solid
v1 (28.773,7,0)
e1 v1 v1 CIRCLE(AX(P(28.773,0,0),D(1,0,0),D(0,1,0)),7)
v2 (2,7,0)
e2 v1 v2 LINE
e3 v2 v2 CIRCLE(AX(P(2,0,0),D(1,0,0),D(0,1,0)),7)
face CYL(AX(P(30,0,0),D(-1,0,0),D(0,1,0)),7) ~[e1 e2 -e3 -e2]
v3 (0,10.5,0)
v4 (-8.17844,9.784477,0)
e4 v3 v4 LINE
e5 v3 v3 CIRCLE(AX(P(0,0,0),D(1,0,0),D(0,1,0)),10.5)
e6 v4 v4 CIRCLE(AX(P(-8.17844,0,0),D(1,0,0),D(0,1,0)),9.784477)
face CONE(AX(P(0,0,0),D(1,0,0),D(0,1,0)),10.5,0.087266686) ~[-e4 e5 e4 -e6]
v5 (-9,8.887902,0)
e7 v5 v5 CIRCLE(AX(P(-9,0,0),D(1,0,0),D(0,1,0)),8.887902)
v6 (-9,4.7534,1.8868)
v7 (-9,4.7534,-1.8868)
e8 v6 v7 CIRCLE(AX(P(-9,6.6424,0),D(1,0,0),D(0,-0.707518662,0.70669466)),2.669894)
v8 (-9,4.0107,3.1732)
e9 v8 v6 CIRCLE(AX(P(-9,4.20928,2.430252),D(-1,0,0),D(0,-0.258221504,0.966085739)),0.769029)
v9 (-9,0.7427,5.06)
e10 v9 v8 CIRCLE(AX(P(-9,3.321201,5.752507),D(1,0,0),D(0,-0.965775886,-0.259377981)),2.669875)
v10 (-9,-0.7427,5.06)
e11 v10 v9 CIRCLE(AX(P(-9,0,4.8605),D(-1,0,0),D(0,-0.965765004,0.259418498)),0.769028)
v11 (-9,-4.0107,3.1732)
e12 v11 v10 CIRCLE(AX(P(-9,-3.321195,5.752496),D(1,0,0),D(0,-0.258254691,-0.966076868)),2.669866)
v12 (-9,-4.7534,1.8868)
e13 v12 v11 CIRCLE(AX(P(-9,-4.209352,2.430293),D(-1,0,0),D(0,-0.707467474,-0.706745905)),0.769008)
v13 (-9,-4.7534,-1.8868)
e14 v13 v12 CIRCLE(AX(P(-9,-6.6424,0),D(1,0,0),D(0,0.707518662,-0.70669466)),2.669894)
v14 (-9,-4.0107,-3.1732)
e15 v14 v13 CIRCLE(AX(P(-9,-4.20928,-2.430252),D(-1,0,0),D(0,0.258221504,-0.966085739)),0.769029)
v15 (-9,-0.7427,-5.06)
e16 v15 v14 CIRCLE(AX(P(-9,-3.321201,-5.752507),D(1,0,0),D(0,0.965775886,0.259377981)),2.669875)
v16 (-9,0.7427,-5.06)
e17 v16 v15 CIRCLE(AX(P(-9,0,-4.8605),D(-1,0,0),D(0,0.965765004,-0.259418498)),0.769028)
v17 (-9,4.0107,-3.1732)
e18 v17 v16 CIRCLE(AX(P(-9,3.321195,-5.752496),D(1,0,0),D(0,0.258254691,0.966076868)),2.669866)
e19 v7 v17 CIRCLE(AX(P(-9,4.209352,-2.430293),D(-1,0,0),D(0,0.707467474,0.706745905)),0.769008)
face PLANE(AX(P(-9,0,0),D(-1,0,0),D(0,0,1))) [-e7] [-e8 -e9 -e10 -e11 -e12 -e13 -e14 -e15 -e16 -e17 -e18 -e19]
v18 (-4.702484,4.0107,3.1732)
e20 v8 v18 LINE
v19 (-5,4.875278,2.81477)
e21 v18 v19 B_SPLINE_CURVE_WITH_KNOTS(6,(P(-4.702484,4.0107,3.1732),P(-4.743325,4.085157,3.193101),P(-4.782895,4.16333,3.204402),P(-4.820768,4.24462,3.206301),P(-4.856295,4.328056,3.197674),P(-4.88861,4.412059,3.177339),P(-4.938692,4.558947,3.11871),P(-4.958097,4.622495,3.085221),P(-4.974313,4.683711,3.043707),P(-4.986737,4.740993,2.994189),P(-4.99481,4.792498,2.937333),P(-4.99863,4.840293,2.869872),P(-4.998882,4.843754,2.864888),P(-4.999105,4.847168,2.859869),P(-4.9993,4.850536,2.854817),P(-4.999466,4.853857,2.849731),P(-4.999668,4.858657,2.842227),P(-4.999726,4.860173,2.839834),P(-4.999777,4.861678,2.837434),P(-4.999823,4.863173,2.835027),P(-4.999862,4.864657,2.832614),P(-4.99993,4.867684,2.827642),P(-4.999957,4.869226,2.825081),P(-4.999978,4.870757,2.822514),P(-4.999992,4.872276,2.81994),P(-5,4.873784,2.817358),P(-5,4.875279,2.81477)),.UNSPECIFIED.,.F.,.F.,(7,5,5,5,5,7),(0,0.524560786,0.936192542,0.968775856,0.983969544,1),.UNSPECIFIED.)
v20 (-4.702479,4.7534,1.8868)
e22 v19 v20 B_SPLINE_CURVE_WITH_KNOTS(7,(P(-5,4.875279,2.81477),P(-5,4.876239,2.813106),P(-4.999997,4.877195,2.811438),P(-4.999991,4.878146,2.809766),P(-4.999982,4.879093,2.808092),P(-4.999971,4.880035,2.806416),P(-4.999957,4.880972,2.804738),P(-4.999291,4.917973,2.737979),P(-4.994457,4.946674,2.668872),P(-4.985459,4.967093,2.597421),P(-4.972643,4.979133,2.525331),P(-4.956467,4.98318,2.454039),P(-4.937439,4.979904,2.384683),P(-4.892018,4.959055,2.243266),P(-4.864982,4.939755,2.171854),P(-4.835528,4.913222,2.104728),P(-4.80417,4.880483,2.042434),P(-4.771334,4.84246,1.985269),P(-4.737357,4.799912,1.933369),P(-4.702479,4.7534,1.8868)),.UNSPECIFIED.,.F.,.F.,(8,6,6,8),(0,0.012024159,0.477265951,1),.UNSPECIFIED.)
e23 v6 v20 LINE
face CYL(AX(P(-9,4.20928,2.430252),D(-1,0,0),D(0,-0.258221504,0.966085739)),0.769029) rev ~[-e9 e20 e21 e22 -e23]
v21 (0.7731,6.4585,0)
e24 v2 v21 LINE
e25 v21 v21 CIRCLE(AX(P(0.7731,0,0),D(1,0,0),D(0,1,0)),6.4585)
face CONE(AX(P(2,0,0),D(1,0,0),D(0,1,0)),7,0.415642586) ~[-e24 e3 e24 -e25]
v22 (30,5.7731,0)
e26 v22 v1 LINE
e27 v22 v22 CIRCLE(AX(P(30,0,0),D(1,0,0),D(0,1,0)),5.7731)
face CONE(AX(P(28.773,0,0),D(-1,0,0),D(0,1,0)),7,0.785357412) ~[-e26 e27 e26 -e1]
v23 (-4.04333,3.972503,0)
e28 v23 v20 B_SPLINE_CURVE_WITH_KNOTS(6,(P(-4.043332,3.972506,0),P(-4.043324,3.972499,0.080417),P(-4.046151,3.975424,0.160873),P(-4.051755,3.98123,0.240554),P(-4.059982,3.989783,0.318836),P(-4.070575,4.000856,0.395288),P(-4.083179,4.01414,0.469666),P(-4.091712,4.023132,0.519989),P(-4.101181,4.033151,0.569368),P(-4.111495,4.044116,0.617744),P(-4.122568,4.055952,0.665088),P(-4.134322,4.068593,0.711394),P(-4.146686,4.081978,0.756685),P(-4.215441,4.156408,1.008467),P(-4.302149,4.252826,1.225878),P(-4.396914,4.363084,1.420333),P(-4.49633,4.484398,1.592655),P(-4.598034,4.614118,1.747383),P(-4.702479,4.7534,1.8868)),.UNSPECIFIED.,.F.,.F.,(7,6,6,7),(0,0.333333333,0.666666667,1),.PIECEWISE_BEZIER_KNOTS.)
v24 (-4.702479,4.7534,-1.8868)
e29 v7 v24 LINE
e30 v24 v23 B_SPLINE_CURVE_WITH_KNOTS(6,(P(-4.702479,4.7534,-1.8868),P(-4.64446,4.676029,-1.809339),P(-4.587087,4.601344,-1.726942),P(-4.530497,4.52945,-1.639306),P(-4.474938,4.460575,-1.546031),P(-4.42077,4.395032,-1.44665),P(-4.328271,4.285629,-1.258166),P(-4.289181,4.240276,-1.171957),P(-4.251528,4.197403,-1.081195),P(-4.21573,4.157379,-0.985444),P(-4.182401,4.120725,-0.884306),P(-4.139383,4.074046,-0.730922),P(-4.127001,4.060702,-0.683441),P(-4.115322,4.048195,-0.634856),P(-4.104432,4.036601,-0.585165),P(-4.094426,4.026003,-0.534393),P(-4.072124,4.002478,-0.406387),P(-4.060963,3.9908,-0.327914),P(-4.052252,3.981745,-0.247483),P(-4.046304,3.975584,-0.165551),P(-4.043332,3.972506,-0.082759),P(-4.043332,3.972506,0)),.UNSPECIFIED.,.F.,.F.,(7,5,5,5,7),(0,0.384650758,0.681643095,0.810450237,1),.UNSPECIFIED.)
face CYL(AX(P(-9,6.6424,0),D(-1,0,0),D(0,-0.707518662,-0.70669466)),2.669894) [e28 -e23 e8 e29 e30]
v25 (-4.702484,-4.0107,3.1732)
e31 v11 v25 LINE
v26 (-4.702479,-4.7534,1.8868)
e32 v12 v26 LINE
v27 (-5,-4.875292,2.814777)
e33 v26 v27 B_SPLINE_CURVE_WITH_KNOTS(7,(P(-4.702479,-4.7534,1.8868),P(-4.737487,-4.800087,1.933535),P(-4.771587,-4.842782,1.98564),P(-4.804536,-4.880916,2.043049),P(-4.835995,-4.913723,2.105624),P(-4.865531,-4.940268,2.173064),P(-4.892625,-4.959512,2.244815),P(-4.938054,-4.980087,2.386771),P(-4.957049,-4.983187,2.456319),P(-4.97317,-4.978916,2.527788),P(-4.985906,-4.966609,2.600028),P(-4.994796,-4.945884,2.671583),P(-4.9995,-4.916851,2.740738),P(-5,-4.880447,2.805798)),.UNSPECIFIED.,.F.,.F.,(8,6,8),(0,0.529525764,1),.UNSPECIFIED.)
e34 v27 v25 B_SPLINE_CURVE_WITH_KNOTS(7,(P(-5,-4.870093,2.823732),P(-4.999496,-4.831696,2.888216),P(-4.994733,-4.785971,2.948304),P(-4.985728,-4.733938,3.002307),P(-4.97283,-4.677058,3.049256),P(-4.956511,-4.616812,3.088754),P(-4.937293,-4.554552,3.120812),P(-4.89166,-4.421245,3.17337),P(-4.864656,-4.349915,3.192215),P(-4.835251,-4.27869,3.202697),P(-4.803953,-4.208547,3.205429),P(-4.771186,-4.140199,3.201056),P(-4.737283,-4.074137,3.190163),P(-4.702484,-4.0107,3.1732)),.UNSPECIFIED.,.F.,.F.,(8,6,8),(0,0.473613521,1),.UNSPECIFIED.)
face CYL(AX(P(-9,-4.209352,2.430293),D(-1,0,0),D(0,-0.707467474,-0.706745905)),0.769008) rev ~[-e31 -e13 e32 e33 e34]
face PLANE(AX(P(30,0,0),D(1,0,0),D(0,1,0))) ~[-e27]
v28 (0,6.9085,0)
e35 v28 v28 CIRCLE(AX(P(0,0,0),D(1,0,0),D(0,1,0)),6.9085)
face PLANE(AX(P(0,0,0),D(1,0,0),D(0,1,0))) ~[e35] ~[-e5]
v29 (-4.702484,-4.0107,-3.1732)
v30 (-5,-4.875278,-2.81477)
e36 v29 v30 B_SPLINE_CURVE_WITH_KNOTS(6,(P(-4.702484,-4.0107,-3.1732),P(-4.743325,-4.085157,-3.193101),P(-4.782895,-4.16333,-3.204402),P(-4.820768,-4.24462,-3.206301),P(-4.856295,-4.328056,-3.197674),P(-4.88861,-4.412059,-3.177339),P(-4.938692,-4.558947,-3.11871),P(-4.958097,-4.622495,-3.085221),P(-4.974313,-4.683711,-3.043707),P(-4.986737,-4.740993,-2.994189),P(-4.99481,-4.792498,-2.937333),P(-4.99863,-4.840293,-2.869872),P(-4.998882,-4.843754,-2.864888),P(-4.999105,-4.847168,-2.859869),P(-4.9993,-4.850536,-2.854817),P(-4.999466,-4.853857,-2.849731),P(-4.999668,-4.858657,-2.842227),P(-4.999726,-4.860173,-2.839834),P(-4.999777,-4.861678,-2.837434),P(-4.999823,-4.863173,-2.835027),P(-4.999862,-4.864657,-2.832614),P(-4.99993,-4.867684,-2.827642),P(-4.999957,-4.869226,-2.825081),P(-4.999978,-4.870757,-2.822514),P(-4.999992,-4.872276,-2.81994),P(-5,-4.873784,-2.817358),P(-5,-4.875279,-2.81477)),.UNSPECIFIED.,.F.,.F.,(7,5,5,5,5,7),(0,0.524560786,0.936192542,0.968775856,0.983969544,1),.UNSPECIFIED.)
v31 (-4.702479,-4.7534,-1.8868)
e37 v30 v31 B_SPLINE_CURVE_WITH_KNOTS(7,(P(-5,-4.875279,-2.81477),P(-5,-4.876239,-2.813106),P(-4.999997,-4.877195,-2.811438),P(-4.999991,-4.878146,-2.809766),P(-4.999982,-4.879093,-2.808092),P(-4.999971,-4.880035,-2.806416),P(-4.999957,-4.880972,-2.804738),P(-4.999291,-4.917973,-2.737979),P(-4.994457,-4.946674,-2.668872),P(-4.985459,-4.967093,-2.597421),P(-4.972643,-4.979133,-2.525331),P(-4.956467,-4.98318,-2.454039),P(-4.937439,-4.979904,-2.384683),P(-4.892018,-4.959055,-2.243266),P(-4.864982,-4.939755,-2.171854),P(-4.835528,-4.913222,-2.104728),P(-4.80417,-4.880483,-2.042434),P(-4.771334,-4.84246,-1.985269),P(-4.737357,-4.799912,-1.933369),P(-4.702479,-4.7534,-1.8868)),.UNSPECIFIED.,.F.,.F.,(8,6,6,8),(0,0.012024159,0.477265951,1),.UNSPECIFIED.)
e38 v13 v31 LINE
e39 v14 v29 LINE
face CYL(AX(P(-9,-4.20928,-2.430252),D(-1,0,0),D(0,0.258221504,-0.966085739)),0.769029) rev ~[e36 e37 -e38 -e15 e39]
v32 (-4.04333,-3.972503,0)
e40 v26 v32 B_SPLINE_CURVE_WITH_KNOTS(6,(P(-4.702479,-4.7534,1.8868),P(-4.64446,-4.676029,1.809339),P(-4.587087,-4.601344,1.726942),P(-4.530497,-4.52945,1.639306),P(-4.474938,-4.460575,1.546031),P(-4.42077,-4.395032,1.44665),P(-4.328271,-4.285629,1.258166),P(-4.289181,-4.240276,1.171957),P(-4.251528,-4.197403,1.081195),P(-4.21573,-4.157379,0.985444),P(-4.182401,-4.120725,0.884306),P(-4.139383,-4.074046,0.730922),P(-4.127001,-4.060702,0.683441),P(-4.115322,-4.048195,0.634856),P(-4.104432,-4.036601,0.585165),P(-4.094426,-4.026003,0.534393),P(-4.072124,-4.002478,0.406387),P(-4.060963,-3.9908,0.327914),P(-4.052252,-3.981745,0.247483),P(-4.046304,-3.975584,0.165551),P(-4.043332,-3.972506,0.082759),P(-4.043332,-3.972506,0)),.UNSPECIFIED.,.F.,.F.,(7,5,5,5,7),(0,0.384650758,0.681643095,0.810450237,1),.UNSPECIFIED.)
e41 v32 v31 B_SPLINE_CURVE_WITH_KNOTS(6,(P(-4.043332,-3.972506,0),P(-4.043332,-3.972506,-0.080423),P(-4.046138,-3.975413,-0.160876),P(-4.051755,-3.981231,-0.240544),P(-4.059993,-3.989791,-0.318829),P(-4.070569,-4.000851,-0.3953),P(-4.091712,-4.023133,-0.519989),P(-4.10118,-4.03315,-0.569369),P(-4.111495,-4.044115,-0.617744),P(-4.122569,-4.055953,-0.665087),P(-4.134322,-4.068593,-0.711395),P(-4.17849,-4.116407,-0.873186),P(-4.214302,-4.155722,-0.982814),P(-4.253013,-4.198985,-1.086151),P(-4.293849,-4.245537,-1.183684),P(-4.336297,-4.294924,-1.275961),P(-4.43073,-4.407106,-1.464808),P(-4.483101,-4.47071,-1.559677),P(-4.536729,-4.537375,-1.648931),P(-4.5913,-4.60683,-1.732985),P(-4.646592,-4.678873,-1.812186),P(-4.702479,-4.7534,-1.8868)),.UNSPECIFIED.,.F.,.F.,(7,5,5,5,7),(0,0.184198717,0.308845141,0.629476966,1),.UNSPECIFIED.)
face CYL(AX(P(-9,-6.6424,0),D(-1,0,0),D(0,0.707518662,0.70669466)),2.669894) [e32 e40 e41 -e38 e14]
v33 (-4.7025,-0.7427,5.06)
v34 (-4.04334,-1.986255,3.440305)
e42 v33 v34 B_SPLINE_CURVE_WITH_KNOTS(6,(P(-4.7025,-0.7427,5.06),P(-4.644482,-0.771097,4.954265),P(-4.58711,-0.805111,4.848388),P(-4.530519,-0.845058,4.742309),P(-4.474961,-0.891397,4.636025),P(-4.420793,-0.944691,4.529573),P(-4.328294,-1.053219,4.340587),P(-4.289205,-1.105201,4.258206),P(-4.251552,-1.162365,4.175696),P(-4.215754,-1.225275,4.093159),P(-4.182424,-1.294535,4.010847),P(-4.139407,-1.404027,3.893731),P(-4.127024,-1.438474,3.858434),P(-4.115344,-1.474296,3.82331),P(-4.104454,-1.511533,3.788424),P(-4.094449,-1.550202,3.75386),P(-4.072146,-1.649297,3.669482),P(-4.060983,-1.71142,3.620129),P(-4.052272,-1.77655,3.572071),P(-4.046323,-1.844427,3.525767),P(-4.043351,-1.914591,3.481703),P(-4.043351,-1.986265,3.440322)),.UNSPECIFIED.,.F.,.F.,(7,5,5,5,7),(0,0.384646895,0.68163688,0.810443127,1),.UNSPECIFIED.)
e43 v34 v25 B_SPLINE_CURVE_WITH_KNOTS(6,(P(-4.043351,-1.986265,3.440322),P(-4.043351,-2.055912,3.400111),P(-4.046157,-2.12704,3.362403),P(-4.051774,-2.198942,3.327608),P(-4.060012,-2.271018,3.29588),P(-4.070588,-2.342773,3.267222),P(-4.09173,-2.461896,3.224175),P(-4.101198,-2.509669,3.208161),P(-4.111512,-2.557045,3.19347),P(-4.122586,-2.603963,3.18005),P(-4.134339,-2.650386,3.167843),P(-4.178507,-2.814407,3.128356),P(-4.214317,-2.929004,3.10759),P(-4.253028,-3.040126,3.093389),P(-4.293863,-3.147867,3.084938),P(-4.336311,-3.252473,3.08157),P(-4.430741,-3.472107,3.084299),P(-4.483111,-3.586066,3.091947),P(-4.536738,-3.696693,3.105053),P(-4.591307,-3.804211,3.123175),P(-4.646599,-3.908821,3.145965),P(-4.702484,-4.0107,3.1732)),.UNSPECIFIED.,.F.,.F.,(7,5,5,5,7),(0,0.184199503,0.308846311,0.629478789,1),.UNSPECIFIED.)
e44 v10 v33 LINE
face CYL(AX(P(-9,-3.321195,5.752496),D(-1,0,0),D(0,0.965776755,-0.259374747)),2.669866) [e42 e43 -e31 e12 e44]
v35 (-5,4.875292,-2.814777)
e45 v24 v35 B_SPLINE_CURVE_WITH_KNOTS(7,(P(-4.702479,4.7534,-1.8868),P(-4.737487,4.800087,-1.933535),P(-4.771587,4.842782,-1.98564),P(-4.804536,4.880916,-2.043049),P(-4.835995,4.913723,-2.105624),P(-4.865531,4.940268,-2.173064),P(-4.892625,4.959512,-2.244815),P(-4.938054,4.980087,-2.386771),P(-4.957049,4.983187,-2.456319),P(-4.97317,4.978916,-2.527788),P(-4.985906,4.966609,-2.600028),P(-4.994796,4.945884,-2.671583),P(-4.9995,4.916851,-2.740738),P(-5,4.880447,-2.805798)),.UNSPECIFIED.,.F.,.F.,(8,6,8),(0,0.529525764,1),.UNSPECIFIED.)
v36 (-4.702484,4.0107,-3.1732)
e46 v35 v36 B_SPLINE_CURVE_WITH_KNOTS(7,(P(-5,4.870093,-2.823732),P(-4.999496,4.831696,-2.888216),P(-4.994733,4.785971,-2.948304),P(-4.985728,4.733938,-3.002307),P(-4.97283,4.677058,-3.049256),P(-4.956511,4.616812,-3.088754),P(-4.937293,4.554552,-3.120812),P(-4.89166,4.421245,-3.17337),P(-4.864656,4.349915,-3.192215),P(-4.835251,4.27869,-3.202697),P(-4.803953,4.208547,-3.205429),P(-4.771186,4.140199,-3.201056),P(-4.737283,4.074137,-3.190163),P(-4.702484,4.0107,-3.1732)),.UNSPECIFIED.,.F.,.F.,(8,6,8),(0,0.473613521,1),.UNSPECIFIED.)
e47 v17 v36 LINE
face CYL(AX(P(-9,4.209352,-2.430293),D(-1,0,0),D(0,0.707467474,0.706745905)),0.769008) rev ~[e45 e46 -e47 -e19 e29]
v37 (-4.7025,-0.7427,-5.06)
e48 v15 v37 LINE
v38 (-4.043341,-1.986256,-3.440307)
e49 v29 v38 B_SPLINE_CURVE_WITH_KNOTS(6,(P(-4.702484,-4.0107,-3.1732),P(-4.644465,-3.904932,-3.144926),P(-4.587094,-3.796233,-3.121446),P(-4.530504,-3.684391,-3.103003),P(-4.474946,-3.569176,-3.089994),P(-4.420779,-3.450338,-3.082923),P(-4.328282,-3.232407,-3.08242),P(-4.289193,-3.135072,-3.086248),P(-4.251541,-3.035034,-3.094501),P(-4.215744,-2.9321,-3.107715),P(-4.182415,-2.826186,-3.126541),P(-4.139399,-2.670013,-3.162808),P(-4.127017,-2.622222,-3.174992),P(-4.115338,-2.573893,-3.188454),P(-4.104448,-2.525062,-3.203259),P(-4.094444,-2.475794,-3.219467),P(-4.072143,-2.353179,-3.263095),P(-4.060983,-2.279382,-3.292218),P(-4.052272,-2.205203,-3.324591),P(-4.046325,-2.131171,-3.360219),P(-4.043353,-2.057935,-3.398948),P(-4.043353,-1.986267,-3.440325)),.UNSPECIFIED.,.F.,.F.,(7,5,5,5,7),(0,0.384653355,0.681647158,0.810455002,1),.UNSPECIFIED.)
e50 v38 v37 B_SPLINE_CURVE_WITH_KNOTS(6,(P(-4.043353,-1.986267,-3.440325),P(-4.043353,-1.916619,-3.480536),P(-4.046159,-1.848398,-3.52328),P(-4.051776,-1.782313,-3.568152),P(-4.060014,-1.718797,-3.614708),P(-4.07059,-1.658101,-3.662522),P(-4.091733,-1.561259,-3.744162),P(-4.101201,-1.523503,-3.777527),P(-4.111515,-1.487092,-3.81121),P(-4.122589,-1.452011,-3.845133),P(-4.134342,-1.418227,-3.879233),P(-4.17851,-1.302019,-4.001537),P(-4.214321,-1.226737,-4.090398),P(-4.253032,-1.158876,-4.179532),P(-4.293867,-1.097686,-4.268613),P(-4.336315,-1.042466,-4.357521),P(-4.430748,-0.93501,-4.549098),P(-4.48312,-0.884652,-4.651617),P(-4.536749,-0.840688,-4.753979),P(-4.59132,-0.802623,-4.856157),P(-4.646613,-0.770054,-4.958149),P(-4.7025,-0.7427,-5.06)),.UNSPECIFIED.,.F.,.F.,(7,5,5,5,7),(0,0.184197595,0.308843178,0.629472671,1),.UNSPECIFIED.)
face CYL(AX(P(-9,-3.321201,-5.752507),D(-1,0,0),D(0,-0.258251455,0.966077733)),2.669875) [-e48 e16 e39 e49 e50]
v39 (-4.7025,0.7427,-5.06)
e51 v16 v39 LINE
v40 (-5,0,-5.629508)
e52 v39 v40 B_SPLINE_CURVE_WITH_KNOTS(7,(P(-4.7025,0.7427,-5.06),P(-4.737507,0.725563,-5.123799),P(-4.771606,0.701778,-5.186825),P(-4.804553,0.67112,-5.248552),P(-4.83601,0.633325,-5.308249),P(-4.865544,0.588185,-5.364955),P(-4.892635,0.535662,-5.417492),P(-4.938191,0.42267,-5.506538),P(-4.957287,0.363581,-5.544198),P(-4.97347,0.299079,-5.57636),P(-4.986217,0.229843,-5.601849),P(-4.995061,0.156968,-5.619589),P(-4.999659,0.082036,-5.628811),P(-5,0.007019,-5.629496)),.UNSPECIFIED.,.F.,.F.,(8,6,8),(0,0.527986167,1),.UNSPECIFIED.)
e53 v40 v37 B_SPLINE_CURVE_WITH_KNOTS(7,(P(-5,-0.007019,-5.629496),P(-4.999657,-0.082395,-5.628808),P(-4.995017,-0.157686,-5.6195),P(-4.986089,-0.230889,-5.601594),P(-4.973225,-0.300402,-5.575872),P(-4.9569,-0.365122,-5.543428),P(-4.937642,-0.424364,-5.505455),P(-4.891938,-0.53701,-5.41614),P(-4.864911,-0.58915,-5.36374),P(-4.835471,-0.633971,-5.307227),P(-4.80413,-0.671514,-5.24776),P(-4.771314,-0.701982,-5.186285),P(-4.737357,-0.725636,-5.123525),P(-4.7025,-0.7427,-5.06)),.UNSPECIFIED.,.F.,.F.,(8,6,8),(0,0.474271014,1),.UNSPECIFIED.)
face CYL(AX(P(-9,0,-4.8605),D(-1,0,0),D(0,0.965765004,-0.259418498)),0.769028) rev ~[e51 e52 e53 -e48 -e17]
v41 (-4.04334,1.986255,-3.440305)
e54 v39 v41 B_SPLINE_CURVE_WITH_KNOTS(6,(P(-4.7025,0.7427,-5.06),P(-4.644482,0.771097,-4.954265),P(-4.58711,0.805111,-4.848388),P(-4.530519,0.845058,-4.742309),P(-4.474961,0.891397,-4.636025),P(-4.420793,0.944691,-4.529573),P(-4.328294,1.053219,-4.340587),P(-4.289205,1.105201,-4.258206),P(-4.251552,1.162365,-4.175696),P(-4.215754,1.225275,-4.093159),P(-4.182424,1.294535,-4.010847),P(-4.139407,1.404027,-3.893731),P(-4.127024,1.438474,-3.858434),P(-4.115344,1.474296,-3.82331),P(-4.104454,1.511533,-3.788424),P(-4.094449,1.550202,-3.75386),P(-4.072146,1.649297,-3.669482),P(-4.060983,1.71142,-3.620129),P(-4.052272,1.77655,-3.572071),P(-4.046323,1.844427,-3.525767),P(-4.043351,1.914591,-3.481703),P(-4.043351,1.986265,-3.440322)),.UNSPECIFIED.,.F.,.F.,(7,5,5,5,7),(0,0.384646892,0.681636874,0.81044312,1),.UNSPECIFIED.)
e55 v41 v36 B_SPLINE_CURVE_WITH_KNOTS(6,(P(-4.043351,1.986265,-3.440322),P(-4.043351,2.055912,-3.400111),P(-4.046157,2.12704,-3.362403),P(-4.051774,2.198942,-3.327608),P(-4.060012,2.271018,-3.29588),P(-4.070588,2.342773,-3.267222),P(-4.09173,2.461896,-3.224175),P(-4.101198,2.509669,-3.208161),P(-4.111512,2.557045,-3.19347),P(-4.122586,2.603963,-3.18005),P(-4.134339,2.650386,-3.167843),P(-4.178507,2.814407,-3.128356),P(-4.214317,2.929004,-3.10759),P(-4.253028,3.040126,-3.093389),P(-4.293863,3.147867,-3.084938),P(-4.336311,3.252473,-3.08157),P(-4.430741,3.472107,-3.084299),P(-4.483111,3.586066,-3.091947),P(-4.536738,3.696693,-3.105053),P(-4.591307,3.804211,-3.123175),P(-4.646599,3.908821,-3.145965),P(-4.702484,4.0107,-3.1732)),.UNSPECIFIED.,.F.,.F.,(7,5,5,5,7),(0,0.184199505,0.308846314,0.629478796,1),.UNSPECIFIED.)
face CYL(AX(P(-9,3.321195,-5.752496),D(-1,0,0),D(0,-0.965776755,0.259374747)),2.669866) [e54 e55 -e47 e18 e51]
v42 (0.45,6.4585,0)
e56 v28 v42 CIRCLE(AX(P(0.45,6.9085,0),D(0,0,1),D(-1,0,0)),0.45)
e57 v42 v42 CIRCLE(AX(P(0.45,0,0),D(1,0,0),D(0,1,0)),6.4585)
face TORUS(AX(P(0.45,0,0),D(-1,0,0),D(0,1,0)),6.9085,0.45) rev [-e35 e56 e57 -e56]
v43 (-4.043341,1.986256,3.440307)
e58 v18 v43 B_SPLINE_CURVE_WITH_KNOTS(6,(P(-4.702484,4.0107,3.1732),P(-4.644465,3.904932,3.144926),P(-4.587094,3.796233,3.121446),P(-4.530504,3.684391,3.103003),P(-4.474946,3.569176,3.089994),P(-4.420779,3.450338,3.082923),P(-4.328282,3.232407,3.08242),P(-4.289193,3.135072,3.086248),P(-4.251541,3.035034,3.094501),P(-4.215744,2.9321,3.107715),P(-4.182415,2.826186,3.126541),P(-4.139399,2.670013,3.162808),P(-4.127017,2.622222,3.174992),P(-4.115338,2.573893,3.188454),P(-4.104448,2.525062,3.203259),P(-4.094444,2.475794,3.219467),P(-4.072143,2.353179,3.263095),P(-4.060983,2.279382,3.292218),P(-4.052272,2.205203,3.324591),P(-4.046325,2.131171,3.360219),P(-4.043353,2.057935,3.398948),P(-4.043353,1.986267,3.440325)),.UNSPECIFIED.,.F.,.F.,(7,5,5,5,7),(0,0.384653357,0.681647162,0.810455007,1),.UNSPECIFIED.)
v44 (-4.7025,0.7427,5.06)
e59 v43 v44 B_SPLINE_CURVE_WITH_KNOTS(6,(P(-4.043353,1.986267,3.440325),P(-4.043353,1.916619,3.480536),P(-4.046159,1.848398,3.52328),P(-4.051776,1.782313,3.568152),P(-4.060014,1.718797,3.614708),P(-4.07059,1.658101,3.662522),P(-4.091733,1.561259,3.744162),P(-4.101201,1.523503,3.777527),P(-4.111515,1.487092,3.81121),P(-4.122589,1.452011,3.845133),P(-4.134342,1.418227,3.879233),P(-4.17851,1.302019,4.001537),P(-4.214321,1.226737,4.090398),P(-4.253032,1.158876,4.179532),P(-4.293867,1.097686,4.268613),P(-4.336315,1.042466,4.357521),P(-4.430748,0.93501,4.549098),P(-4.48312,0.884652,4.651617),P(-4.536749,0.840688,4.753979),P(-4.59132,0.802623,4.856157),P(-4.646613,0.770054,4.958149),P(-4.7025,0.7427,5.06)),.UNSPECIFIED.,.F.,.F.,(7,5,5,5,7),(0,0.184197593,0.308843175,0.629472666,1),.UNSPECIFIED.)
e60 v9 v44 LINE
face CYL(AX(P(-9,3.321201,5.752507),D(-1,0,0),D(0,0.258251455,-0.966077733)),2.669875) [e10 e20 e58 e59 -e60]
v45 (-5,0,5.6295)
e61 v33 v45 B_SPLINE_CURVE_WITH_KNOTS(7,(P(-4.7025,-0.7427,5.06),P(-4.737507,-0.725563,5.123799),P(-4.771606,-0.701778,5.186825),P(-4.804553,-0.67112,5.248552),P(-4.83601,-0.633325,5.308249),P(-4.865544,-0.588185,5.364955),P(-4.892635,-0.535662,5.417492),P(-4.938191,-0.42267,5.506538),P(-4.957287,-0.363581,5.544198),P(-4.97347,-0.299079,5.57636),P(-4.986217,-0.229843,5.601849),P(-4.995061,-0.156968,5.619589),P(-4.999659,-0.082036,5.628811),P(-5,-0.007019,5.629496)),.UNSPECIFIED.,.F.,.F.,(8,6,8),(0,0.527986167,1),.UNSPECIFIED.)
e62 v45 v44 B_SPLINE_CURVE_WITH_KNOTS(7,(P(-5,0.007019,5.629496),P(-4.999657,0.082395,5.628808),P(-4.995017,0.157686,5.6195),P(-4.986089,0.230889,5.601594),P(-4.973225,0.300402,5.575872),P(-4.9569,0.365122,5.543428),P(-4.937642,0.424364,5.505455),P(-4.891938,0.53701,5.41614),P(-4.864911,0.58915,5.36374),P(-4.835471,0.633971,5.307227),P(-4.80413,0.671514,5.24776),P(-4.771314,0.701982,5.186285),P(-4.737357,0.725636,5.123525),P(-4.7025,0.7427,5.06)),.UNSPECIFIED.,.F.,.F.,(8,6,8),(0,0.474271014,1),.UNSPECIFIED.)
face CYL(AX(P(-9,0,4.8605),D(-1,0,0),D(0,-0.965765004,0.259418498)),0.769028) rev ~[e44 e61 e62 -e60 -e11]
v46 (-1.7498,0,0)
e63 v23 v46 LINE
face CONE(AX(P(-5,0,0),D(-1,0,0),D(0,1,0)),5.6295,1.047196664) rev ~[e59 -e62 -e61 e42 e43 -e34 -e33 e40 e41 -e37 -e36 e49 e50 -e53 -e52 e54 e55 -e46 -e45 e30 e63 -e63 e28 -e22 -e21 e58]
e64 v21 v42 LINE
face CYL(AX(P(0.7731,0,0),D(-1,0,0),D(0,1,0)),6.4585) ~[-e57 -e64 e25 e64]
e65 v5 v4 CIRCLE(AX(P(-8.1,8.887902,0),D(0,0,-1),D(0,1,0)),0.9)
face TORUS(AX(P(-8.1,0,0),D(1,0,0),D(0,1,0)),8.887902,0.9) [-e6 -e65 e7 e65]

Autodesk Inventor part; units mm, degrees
ref_plane "YZ Plane" through (0, 0, 0) normal (1, 0, 0) x (0, 1, 0)
ref_plane "XZ Plane" through (0, 0, 0) normal (0, 1, 0) x (-1, 0, 0)
sketch "Sketch1" plane through (0, 0, 0) normal (0, 0, 1) x (1, 0, 0)
  line L0 (-1.7498, 0) -> (30, 0)
  line L1 (30, 0) -> (30, 7)
  line L2 (30, 7) -> (2, 7)
  line L3 (2, 7) -> (0.7731, 6.4585)
  line L4 (0.7731, 6.4585) -> (0.45, 6.4585)
  line L5 (0, 6.9085) -> (0, 10.5)
  line L6 (0, 10.5) -> (-9, 10.5)
  line L7 (-9, 10.5) -> (-9, 5.6295)
  line L8 (-9, 5.6295) -> (-5, 5.6295)
  line L9 (-5, 5.6295) -> (-1.7498, 0)
  line L10 (-16.8, 0) -> (37.8, 0) projected
  line L11 (0, -2.1) -> (0, 12.6) projected
  line L12 (2, 7) -> (0, 7) construction
  arc A0 (0, 6.9085) -> (0.45, 6.4585) centre (0.45, 6.9085) ccw
  line L13 (0, 10.5) -> (-9, 9.7126)
  point P0 (0, 6.4585)
  dimension "d1" = 28
  dimension "d2" = 1.2269
  dimension "d3" = 9
  dimension "d4" = 4
  dimension "d5" = 60
  dimension "d6" = 14
  dimension "d7" = 12.917
  dimension "d8" = 11.259
  dimension "d9" = 21
  dimension "d20" = 30
  dimension "d34" = 0.45
  dimension "d35" = 5
revolve "Body" add sketch "Sketch1" angle 360 about axis through (-1.7498, 0, 0) along (1, 0, 0)
sketch "Sketch2" plane through (-9, 0, 0) normal (-1, 0, 0) x (0, 0, 1)
  line L0 (0, -14.7) -> (0, 14.7) projected
  line L1 (-14.7, 0) -> (14.7, 0) projected
  circle A0 centre (0, 0) radius 10.5 projected
  circle A1 centre (0, 0) radius 3.9725
  line L2 (0, 0) -> (4.8438, 8.3897) construction
  line L3 (0, 0) -> (8.7121, 5.0299) construction
  circle A2 centre (0, 0) radius 5.6295 projected
  arc A3 (3.1732, 4.0107) -> (1.8868, 4.7534) centre (2.4303, 4.2093) ccw
  arc A4 (5.06, -0.7427) -> (5.06, 0.7427) centre (4.8605, 0) ccw
  arc A5 (3.1732, 4.0107) -> (5.06, 0.7427) centre (5.7525, 3.3212) ccw
  arc A6 (-1.8868, 4.7534) -> (-3.1732, 4.0107) centre (-2.4303, 4.2093) ccw
  arc A7 (-5.06, 0.7427) -> (-5.06, -0.7427) centre (-4.8605, 0) ccw
  arc A8 (-5.06, 0.7427) -> (-3.1732, 4.0107) centre (-5.7525, 3.3212) ccw
  arc A9 (1.8868, -4.7534) -> (3.1732, -4.0107) centre (2.4303, -4.2093) ccw
  arc A10 (5.06, -0.7427) -> (5.06, 0.7427) centre (4.8605, 0) ccw
  arc A11 (5.06, -0.7427) -> (3.1732, -4.0107) centre (5.7525, -3.3212) ccw
  arc A12 (-3.1732, -4.0107) -> (-1.8868, -4.7534) centre (-2.4303, -4.2093) ccw
  arc A13 (-3.1732, -4.0107) -> (-5.06, -0.7427) centre (-5.7525, -3.3212) ccw
  arc A14 (-5.06, 0.7427) -> (-5.06, -0.7427) centre (-4.8605, 0) ccw
  arc A15 (-1.8868, 4.7534) -> (1.8868, 4.7534) centre (0, 6.6424) ccw
  arc A16 (1.8868, -4.7534) -> (-1.8868, -4.7534) centre (0, -6.6424) ccw
  dimension "d38" = 7.945
  dimension "d39" = 30
  dimension "d40" = 60
  dimension "d42" = 0.769
extrude "Slot" add sketch "Sketch2" against normal up to next contours A2 A12 A16 L0 | L0 A16 A9 A2 | A2 A7 A13 A12 | A9 A11 A4 A2 | A2 A6 A8 A7 | A4 A5 A3 A2 | A2 L0 A15 A6 | A2 A3 A15 L0
revolve "Taper" cut sketch "Sketch1" angle 360 about axis through (0, 0, 0) along (1, 0, 0) contours L13 L7 L6
fillet "Fillet1" radius 0.9 1 edges at (-9, -9.7126, 0)
thread "Thread" size "M14x2" designation "M14" class "6g" standard "GB Metric profile" length 28
chamfer "Chamfer1" distance 1.2269 distance2 1.227 1 edges at (30, -7, 0) measured on face at (30, -0.3293, 1.9203)
ref_plane "Work Plane1" through (0, 0, 0) normal (0, 0.5, 0.866) x (1, 0, 0)
equation "\"d1\" = GEL"
equation "\"d2\" = GAL"
equation "\"d3\" = KOH"
equation "\"d4\" = INTI"
equation "\"d6\" = GD"
equation "\"d7\" = BDM"
equation "\"d8\" = E0"
equation "\"d9\" = KOD"
equation "\"d20\" = NLG"
equation "\"d34\" = R"
equation "\"d38\" = SW"
equation "\"d42\" = RRK"
equation "\"d17\" = RR"
equation "\"d13\" = GEL"
equation "\"d15\" = -0.5 * SPD + 0.5 * GD"
equation "\"GD\" = NND"
equation "\"NLG\" = 30"
equation "\"GEL\" = 28"
equation "\"KOD\" = 21"
equation "\"KOH\" = 9"
equation "\"INTI\" = 4"
equation "\"GAL\" = 0.61345 * PTC"
equation "\"GUL\" = 0.61345 * PTC"
equation "\"BDM\" = 12.917"
equation "\"SW\" = 7.945"
equation "\"RR\" = 0.9"
equation "\"SPD\" = NND - 1.2269 * PTC"
equation "\"R\" = 0.45"
equation "\"E0\" = 11.259"
equation "\"RRK\" = 0.769"
equation "\"PHH\" = 0"
equation "\"GD1\" = THREADDIA - 1.2269 * PTC"
equation "\"THREADDIA\" = 14"
equation "\"FAWI\" = 90deg"
equation "\"ANG\" = 120deg"
equation "\"PTC\" = 2"
equation "\"NND\" = 14"
equation "\"TOA\" = 30deg"
equation "\"KEWI\" = 5deg"
properties part number "Screw GB/T 2171.1 M14 x 30" material "Steel, Mild"
